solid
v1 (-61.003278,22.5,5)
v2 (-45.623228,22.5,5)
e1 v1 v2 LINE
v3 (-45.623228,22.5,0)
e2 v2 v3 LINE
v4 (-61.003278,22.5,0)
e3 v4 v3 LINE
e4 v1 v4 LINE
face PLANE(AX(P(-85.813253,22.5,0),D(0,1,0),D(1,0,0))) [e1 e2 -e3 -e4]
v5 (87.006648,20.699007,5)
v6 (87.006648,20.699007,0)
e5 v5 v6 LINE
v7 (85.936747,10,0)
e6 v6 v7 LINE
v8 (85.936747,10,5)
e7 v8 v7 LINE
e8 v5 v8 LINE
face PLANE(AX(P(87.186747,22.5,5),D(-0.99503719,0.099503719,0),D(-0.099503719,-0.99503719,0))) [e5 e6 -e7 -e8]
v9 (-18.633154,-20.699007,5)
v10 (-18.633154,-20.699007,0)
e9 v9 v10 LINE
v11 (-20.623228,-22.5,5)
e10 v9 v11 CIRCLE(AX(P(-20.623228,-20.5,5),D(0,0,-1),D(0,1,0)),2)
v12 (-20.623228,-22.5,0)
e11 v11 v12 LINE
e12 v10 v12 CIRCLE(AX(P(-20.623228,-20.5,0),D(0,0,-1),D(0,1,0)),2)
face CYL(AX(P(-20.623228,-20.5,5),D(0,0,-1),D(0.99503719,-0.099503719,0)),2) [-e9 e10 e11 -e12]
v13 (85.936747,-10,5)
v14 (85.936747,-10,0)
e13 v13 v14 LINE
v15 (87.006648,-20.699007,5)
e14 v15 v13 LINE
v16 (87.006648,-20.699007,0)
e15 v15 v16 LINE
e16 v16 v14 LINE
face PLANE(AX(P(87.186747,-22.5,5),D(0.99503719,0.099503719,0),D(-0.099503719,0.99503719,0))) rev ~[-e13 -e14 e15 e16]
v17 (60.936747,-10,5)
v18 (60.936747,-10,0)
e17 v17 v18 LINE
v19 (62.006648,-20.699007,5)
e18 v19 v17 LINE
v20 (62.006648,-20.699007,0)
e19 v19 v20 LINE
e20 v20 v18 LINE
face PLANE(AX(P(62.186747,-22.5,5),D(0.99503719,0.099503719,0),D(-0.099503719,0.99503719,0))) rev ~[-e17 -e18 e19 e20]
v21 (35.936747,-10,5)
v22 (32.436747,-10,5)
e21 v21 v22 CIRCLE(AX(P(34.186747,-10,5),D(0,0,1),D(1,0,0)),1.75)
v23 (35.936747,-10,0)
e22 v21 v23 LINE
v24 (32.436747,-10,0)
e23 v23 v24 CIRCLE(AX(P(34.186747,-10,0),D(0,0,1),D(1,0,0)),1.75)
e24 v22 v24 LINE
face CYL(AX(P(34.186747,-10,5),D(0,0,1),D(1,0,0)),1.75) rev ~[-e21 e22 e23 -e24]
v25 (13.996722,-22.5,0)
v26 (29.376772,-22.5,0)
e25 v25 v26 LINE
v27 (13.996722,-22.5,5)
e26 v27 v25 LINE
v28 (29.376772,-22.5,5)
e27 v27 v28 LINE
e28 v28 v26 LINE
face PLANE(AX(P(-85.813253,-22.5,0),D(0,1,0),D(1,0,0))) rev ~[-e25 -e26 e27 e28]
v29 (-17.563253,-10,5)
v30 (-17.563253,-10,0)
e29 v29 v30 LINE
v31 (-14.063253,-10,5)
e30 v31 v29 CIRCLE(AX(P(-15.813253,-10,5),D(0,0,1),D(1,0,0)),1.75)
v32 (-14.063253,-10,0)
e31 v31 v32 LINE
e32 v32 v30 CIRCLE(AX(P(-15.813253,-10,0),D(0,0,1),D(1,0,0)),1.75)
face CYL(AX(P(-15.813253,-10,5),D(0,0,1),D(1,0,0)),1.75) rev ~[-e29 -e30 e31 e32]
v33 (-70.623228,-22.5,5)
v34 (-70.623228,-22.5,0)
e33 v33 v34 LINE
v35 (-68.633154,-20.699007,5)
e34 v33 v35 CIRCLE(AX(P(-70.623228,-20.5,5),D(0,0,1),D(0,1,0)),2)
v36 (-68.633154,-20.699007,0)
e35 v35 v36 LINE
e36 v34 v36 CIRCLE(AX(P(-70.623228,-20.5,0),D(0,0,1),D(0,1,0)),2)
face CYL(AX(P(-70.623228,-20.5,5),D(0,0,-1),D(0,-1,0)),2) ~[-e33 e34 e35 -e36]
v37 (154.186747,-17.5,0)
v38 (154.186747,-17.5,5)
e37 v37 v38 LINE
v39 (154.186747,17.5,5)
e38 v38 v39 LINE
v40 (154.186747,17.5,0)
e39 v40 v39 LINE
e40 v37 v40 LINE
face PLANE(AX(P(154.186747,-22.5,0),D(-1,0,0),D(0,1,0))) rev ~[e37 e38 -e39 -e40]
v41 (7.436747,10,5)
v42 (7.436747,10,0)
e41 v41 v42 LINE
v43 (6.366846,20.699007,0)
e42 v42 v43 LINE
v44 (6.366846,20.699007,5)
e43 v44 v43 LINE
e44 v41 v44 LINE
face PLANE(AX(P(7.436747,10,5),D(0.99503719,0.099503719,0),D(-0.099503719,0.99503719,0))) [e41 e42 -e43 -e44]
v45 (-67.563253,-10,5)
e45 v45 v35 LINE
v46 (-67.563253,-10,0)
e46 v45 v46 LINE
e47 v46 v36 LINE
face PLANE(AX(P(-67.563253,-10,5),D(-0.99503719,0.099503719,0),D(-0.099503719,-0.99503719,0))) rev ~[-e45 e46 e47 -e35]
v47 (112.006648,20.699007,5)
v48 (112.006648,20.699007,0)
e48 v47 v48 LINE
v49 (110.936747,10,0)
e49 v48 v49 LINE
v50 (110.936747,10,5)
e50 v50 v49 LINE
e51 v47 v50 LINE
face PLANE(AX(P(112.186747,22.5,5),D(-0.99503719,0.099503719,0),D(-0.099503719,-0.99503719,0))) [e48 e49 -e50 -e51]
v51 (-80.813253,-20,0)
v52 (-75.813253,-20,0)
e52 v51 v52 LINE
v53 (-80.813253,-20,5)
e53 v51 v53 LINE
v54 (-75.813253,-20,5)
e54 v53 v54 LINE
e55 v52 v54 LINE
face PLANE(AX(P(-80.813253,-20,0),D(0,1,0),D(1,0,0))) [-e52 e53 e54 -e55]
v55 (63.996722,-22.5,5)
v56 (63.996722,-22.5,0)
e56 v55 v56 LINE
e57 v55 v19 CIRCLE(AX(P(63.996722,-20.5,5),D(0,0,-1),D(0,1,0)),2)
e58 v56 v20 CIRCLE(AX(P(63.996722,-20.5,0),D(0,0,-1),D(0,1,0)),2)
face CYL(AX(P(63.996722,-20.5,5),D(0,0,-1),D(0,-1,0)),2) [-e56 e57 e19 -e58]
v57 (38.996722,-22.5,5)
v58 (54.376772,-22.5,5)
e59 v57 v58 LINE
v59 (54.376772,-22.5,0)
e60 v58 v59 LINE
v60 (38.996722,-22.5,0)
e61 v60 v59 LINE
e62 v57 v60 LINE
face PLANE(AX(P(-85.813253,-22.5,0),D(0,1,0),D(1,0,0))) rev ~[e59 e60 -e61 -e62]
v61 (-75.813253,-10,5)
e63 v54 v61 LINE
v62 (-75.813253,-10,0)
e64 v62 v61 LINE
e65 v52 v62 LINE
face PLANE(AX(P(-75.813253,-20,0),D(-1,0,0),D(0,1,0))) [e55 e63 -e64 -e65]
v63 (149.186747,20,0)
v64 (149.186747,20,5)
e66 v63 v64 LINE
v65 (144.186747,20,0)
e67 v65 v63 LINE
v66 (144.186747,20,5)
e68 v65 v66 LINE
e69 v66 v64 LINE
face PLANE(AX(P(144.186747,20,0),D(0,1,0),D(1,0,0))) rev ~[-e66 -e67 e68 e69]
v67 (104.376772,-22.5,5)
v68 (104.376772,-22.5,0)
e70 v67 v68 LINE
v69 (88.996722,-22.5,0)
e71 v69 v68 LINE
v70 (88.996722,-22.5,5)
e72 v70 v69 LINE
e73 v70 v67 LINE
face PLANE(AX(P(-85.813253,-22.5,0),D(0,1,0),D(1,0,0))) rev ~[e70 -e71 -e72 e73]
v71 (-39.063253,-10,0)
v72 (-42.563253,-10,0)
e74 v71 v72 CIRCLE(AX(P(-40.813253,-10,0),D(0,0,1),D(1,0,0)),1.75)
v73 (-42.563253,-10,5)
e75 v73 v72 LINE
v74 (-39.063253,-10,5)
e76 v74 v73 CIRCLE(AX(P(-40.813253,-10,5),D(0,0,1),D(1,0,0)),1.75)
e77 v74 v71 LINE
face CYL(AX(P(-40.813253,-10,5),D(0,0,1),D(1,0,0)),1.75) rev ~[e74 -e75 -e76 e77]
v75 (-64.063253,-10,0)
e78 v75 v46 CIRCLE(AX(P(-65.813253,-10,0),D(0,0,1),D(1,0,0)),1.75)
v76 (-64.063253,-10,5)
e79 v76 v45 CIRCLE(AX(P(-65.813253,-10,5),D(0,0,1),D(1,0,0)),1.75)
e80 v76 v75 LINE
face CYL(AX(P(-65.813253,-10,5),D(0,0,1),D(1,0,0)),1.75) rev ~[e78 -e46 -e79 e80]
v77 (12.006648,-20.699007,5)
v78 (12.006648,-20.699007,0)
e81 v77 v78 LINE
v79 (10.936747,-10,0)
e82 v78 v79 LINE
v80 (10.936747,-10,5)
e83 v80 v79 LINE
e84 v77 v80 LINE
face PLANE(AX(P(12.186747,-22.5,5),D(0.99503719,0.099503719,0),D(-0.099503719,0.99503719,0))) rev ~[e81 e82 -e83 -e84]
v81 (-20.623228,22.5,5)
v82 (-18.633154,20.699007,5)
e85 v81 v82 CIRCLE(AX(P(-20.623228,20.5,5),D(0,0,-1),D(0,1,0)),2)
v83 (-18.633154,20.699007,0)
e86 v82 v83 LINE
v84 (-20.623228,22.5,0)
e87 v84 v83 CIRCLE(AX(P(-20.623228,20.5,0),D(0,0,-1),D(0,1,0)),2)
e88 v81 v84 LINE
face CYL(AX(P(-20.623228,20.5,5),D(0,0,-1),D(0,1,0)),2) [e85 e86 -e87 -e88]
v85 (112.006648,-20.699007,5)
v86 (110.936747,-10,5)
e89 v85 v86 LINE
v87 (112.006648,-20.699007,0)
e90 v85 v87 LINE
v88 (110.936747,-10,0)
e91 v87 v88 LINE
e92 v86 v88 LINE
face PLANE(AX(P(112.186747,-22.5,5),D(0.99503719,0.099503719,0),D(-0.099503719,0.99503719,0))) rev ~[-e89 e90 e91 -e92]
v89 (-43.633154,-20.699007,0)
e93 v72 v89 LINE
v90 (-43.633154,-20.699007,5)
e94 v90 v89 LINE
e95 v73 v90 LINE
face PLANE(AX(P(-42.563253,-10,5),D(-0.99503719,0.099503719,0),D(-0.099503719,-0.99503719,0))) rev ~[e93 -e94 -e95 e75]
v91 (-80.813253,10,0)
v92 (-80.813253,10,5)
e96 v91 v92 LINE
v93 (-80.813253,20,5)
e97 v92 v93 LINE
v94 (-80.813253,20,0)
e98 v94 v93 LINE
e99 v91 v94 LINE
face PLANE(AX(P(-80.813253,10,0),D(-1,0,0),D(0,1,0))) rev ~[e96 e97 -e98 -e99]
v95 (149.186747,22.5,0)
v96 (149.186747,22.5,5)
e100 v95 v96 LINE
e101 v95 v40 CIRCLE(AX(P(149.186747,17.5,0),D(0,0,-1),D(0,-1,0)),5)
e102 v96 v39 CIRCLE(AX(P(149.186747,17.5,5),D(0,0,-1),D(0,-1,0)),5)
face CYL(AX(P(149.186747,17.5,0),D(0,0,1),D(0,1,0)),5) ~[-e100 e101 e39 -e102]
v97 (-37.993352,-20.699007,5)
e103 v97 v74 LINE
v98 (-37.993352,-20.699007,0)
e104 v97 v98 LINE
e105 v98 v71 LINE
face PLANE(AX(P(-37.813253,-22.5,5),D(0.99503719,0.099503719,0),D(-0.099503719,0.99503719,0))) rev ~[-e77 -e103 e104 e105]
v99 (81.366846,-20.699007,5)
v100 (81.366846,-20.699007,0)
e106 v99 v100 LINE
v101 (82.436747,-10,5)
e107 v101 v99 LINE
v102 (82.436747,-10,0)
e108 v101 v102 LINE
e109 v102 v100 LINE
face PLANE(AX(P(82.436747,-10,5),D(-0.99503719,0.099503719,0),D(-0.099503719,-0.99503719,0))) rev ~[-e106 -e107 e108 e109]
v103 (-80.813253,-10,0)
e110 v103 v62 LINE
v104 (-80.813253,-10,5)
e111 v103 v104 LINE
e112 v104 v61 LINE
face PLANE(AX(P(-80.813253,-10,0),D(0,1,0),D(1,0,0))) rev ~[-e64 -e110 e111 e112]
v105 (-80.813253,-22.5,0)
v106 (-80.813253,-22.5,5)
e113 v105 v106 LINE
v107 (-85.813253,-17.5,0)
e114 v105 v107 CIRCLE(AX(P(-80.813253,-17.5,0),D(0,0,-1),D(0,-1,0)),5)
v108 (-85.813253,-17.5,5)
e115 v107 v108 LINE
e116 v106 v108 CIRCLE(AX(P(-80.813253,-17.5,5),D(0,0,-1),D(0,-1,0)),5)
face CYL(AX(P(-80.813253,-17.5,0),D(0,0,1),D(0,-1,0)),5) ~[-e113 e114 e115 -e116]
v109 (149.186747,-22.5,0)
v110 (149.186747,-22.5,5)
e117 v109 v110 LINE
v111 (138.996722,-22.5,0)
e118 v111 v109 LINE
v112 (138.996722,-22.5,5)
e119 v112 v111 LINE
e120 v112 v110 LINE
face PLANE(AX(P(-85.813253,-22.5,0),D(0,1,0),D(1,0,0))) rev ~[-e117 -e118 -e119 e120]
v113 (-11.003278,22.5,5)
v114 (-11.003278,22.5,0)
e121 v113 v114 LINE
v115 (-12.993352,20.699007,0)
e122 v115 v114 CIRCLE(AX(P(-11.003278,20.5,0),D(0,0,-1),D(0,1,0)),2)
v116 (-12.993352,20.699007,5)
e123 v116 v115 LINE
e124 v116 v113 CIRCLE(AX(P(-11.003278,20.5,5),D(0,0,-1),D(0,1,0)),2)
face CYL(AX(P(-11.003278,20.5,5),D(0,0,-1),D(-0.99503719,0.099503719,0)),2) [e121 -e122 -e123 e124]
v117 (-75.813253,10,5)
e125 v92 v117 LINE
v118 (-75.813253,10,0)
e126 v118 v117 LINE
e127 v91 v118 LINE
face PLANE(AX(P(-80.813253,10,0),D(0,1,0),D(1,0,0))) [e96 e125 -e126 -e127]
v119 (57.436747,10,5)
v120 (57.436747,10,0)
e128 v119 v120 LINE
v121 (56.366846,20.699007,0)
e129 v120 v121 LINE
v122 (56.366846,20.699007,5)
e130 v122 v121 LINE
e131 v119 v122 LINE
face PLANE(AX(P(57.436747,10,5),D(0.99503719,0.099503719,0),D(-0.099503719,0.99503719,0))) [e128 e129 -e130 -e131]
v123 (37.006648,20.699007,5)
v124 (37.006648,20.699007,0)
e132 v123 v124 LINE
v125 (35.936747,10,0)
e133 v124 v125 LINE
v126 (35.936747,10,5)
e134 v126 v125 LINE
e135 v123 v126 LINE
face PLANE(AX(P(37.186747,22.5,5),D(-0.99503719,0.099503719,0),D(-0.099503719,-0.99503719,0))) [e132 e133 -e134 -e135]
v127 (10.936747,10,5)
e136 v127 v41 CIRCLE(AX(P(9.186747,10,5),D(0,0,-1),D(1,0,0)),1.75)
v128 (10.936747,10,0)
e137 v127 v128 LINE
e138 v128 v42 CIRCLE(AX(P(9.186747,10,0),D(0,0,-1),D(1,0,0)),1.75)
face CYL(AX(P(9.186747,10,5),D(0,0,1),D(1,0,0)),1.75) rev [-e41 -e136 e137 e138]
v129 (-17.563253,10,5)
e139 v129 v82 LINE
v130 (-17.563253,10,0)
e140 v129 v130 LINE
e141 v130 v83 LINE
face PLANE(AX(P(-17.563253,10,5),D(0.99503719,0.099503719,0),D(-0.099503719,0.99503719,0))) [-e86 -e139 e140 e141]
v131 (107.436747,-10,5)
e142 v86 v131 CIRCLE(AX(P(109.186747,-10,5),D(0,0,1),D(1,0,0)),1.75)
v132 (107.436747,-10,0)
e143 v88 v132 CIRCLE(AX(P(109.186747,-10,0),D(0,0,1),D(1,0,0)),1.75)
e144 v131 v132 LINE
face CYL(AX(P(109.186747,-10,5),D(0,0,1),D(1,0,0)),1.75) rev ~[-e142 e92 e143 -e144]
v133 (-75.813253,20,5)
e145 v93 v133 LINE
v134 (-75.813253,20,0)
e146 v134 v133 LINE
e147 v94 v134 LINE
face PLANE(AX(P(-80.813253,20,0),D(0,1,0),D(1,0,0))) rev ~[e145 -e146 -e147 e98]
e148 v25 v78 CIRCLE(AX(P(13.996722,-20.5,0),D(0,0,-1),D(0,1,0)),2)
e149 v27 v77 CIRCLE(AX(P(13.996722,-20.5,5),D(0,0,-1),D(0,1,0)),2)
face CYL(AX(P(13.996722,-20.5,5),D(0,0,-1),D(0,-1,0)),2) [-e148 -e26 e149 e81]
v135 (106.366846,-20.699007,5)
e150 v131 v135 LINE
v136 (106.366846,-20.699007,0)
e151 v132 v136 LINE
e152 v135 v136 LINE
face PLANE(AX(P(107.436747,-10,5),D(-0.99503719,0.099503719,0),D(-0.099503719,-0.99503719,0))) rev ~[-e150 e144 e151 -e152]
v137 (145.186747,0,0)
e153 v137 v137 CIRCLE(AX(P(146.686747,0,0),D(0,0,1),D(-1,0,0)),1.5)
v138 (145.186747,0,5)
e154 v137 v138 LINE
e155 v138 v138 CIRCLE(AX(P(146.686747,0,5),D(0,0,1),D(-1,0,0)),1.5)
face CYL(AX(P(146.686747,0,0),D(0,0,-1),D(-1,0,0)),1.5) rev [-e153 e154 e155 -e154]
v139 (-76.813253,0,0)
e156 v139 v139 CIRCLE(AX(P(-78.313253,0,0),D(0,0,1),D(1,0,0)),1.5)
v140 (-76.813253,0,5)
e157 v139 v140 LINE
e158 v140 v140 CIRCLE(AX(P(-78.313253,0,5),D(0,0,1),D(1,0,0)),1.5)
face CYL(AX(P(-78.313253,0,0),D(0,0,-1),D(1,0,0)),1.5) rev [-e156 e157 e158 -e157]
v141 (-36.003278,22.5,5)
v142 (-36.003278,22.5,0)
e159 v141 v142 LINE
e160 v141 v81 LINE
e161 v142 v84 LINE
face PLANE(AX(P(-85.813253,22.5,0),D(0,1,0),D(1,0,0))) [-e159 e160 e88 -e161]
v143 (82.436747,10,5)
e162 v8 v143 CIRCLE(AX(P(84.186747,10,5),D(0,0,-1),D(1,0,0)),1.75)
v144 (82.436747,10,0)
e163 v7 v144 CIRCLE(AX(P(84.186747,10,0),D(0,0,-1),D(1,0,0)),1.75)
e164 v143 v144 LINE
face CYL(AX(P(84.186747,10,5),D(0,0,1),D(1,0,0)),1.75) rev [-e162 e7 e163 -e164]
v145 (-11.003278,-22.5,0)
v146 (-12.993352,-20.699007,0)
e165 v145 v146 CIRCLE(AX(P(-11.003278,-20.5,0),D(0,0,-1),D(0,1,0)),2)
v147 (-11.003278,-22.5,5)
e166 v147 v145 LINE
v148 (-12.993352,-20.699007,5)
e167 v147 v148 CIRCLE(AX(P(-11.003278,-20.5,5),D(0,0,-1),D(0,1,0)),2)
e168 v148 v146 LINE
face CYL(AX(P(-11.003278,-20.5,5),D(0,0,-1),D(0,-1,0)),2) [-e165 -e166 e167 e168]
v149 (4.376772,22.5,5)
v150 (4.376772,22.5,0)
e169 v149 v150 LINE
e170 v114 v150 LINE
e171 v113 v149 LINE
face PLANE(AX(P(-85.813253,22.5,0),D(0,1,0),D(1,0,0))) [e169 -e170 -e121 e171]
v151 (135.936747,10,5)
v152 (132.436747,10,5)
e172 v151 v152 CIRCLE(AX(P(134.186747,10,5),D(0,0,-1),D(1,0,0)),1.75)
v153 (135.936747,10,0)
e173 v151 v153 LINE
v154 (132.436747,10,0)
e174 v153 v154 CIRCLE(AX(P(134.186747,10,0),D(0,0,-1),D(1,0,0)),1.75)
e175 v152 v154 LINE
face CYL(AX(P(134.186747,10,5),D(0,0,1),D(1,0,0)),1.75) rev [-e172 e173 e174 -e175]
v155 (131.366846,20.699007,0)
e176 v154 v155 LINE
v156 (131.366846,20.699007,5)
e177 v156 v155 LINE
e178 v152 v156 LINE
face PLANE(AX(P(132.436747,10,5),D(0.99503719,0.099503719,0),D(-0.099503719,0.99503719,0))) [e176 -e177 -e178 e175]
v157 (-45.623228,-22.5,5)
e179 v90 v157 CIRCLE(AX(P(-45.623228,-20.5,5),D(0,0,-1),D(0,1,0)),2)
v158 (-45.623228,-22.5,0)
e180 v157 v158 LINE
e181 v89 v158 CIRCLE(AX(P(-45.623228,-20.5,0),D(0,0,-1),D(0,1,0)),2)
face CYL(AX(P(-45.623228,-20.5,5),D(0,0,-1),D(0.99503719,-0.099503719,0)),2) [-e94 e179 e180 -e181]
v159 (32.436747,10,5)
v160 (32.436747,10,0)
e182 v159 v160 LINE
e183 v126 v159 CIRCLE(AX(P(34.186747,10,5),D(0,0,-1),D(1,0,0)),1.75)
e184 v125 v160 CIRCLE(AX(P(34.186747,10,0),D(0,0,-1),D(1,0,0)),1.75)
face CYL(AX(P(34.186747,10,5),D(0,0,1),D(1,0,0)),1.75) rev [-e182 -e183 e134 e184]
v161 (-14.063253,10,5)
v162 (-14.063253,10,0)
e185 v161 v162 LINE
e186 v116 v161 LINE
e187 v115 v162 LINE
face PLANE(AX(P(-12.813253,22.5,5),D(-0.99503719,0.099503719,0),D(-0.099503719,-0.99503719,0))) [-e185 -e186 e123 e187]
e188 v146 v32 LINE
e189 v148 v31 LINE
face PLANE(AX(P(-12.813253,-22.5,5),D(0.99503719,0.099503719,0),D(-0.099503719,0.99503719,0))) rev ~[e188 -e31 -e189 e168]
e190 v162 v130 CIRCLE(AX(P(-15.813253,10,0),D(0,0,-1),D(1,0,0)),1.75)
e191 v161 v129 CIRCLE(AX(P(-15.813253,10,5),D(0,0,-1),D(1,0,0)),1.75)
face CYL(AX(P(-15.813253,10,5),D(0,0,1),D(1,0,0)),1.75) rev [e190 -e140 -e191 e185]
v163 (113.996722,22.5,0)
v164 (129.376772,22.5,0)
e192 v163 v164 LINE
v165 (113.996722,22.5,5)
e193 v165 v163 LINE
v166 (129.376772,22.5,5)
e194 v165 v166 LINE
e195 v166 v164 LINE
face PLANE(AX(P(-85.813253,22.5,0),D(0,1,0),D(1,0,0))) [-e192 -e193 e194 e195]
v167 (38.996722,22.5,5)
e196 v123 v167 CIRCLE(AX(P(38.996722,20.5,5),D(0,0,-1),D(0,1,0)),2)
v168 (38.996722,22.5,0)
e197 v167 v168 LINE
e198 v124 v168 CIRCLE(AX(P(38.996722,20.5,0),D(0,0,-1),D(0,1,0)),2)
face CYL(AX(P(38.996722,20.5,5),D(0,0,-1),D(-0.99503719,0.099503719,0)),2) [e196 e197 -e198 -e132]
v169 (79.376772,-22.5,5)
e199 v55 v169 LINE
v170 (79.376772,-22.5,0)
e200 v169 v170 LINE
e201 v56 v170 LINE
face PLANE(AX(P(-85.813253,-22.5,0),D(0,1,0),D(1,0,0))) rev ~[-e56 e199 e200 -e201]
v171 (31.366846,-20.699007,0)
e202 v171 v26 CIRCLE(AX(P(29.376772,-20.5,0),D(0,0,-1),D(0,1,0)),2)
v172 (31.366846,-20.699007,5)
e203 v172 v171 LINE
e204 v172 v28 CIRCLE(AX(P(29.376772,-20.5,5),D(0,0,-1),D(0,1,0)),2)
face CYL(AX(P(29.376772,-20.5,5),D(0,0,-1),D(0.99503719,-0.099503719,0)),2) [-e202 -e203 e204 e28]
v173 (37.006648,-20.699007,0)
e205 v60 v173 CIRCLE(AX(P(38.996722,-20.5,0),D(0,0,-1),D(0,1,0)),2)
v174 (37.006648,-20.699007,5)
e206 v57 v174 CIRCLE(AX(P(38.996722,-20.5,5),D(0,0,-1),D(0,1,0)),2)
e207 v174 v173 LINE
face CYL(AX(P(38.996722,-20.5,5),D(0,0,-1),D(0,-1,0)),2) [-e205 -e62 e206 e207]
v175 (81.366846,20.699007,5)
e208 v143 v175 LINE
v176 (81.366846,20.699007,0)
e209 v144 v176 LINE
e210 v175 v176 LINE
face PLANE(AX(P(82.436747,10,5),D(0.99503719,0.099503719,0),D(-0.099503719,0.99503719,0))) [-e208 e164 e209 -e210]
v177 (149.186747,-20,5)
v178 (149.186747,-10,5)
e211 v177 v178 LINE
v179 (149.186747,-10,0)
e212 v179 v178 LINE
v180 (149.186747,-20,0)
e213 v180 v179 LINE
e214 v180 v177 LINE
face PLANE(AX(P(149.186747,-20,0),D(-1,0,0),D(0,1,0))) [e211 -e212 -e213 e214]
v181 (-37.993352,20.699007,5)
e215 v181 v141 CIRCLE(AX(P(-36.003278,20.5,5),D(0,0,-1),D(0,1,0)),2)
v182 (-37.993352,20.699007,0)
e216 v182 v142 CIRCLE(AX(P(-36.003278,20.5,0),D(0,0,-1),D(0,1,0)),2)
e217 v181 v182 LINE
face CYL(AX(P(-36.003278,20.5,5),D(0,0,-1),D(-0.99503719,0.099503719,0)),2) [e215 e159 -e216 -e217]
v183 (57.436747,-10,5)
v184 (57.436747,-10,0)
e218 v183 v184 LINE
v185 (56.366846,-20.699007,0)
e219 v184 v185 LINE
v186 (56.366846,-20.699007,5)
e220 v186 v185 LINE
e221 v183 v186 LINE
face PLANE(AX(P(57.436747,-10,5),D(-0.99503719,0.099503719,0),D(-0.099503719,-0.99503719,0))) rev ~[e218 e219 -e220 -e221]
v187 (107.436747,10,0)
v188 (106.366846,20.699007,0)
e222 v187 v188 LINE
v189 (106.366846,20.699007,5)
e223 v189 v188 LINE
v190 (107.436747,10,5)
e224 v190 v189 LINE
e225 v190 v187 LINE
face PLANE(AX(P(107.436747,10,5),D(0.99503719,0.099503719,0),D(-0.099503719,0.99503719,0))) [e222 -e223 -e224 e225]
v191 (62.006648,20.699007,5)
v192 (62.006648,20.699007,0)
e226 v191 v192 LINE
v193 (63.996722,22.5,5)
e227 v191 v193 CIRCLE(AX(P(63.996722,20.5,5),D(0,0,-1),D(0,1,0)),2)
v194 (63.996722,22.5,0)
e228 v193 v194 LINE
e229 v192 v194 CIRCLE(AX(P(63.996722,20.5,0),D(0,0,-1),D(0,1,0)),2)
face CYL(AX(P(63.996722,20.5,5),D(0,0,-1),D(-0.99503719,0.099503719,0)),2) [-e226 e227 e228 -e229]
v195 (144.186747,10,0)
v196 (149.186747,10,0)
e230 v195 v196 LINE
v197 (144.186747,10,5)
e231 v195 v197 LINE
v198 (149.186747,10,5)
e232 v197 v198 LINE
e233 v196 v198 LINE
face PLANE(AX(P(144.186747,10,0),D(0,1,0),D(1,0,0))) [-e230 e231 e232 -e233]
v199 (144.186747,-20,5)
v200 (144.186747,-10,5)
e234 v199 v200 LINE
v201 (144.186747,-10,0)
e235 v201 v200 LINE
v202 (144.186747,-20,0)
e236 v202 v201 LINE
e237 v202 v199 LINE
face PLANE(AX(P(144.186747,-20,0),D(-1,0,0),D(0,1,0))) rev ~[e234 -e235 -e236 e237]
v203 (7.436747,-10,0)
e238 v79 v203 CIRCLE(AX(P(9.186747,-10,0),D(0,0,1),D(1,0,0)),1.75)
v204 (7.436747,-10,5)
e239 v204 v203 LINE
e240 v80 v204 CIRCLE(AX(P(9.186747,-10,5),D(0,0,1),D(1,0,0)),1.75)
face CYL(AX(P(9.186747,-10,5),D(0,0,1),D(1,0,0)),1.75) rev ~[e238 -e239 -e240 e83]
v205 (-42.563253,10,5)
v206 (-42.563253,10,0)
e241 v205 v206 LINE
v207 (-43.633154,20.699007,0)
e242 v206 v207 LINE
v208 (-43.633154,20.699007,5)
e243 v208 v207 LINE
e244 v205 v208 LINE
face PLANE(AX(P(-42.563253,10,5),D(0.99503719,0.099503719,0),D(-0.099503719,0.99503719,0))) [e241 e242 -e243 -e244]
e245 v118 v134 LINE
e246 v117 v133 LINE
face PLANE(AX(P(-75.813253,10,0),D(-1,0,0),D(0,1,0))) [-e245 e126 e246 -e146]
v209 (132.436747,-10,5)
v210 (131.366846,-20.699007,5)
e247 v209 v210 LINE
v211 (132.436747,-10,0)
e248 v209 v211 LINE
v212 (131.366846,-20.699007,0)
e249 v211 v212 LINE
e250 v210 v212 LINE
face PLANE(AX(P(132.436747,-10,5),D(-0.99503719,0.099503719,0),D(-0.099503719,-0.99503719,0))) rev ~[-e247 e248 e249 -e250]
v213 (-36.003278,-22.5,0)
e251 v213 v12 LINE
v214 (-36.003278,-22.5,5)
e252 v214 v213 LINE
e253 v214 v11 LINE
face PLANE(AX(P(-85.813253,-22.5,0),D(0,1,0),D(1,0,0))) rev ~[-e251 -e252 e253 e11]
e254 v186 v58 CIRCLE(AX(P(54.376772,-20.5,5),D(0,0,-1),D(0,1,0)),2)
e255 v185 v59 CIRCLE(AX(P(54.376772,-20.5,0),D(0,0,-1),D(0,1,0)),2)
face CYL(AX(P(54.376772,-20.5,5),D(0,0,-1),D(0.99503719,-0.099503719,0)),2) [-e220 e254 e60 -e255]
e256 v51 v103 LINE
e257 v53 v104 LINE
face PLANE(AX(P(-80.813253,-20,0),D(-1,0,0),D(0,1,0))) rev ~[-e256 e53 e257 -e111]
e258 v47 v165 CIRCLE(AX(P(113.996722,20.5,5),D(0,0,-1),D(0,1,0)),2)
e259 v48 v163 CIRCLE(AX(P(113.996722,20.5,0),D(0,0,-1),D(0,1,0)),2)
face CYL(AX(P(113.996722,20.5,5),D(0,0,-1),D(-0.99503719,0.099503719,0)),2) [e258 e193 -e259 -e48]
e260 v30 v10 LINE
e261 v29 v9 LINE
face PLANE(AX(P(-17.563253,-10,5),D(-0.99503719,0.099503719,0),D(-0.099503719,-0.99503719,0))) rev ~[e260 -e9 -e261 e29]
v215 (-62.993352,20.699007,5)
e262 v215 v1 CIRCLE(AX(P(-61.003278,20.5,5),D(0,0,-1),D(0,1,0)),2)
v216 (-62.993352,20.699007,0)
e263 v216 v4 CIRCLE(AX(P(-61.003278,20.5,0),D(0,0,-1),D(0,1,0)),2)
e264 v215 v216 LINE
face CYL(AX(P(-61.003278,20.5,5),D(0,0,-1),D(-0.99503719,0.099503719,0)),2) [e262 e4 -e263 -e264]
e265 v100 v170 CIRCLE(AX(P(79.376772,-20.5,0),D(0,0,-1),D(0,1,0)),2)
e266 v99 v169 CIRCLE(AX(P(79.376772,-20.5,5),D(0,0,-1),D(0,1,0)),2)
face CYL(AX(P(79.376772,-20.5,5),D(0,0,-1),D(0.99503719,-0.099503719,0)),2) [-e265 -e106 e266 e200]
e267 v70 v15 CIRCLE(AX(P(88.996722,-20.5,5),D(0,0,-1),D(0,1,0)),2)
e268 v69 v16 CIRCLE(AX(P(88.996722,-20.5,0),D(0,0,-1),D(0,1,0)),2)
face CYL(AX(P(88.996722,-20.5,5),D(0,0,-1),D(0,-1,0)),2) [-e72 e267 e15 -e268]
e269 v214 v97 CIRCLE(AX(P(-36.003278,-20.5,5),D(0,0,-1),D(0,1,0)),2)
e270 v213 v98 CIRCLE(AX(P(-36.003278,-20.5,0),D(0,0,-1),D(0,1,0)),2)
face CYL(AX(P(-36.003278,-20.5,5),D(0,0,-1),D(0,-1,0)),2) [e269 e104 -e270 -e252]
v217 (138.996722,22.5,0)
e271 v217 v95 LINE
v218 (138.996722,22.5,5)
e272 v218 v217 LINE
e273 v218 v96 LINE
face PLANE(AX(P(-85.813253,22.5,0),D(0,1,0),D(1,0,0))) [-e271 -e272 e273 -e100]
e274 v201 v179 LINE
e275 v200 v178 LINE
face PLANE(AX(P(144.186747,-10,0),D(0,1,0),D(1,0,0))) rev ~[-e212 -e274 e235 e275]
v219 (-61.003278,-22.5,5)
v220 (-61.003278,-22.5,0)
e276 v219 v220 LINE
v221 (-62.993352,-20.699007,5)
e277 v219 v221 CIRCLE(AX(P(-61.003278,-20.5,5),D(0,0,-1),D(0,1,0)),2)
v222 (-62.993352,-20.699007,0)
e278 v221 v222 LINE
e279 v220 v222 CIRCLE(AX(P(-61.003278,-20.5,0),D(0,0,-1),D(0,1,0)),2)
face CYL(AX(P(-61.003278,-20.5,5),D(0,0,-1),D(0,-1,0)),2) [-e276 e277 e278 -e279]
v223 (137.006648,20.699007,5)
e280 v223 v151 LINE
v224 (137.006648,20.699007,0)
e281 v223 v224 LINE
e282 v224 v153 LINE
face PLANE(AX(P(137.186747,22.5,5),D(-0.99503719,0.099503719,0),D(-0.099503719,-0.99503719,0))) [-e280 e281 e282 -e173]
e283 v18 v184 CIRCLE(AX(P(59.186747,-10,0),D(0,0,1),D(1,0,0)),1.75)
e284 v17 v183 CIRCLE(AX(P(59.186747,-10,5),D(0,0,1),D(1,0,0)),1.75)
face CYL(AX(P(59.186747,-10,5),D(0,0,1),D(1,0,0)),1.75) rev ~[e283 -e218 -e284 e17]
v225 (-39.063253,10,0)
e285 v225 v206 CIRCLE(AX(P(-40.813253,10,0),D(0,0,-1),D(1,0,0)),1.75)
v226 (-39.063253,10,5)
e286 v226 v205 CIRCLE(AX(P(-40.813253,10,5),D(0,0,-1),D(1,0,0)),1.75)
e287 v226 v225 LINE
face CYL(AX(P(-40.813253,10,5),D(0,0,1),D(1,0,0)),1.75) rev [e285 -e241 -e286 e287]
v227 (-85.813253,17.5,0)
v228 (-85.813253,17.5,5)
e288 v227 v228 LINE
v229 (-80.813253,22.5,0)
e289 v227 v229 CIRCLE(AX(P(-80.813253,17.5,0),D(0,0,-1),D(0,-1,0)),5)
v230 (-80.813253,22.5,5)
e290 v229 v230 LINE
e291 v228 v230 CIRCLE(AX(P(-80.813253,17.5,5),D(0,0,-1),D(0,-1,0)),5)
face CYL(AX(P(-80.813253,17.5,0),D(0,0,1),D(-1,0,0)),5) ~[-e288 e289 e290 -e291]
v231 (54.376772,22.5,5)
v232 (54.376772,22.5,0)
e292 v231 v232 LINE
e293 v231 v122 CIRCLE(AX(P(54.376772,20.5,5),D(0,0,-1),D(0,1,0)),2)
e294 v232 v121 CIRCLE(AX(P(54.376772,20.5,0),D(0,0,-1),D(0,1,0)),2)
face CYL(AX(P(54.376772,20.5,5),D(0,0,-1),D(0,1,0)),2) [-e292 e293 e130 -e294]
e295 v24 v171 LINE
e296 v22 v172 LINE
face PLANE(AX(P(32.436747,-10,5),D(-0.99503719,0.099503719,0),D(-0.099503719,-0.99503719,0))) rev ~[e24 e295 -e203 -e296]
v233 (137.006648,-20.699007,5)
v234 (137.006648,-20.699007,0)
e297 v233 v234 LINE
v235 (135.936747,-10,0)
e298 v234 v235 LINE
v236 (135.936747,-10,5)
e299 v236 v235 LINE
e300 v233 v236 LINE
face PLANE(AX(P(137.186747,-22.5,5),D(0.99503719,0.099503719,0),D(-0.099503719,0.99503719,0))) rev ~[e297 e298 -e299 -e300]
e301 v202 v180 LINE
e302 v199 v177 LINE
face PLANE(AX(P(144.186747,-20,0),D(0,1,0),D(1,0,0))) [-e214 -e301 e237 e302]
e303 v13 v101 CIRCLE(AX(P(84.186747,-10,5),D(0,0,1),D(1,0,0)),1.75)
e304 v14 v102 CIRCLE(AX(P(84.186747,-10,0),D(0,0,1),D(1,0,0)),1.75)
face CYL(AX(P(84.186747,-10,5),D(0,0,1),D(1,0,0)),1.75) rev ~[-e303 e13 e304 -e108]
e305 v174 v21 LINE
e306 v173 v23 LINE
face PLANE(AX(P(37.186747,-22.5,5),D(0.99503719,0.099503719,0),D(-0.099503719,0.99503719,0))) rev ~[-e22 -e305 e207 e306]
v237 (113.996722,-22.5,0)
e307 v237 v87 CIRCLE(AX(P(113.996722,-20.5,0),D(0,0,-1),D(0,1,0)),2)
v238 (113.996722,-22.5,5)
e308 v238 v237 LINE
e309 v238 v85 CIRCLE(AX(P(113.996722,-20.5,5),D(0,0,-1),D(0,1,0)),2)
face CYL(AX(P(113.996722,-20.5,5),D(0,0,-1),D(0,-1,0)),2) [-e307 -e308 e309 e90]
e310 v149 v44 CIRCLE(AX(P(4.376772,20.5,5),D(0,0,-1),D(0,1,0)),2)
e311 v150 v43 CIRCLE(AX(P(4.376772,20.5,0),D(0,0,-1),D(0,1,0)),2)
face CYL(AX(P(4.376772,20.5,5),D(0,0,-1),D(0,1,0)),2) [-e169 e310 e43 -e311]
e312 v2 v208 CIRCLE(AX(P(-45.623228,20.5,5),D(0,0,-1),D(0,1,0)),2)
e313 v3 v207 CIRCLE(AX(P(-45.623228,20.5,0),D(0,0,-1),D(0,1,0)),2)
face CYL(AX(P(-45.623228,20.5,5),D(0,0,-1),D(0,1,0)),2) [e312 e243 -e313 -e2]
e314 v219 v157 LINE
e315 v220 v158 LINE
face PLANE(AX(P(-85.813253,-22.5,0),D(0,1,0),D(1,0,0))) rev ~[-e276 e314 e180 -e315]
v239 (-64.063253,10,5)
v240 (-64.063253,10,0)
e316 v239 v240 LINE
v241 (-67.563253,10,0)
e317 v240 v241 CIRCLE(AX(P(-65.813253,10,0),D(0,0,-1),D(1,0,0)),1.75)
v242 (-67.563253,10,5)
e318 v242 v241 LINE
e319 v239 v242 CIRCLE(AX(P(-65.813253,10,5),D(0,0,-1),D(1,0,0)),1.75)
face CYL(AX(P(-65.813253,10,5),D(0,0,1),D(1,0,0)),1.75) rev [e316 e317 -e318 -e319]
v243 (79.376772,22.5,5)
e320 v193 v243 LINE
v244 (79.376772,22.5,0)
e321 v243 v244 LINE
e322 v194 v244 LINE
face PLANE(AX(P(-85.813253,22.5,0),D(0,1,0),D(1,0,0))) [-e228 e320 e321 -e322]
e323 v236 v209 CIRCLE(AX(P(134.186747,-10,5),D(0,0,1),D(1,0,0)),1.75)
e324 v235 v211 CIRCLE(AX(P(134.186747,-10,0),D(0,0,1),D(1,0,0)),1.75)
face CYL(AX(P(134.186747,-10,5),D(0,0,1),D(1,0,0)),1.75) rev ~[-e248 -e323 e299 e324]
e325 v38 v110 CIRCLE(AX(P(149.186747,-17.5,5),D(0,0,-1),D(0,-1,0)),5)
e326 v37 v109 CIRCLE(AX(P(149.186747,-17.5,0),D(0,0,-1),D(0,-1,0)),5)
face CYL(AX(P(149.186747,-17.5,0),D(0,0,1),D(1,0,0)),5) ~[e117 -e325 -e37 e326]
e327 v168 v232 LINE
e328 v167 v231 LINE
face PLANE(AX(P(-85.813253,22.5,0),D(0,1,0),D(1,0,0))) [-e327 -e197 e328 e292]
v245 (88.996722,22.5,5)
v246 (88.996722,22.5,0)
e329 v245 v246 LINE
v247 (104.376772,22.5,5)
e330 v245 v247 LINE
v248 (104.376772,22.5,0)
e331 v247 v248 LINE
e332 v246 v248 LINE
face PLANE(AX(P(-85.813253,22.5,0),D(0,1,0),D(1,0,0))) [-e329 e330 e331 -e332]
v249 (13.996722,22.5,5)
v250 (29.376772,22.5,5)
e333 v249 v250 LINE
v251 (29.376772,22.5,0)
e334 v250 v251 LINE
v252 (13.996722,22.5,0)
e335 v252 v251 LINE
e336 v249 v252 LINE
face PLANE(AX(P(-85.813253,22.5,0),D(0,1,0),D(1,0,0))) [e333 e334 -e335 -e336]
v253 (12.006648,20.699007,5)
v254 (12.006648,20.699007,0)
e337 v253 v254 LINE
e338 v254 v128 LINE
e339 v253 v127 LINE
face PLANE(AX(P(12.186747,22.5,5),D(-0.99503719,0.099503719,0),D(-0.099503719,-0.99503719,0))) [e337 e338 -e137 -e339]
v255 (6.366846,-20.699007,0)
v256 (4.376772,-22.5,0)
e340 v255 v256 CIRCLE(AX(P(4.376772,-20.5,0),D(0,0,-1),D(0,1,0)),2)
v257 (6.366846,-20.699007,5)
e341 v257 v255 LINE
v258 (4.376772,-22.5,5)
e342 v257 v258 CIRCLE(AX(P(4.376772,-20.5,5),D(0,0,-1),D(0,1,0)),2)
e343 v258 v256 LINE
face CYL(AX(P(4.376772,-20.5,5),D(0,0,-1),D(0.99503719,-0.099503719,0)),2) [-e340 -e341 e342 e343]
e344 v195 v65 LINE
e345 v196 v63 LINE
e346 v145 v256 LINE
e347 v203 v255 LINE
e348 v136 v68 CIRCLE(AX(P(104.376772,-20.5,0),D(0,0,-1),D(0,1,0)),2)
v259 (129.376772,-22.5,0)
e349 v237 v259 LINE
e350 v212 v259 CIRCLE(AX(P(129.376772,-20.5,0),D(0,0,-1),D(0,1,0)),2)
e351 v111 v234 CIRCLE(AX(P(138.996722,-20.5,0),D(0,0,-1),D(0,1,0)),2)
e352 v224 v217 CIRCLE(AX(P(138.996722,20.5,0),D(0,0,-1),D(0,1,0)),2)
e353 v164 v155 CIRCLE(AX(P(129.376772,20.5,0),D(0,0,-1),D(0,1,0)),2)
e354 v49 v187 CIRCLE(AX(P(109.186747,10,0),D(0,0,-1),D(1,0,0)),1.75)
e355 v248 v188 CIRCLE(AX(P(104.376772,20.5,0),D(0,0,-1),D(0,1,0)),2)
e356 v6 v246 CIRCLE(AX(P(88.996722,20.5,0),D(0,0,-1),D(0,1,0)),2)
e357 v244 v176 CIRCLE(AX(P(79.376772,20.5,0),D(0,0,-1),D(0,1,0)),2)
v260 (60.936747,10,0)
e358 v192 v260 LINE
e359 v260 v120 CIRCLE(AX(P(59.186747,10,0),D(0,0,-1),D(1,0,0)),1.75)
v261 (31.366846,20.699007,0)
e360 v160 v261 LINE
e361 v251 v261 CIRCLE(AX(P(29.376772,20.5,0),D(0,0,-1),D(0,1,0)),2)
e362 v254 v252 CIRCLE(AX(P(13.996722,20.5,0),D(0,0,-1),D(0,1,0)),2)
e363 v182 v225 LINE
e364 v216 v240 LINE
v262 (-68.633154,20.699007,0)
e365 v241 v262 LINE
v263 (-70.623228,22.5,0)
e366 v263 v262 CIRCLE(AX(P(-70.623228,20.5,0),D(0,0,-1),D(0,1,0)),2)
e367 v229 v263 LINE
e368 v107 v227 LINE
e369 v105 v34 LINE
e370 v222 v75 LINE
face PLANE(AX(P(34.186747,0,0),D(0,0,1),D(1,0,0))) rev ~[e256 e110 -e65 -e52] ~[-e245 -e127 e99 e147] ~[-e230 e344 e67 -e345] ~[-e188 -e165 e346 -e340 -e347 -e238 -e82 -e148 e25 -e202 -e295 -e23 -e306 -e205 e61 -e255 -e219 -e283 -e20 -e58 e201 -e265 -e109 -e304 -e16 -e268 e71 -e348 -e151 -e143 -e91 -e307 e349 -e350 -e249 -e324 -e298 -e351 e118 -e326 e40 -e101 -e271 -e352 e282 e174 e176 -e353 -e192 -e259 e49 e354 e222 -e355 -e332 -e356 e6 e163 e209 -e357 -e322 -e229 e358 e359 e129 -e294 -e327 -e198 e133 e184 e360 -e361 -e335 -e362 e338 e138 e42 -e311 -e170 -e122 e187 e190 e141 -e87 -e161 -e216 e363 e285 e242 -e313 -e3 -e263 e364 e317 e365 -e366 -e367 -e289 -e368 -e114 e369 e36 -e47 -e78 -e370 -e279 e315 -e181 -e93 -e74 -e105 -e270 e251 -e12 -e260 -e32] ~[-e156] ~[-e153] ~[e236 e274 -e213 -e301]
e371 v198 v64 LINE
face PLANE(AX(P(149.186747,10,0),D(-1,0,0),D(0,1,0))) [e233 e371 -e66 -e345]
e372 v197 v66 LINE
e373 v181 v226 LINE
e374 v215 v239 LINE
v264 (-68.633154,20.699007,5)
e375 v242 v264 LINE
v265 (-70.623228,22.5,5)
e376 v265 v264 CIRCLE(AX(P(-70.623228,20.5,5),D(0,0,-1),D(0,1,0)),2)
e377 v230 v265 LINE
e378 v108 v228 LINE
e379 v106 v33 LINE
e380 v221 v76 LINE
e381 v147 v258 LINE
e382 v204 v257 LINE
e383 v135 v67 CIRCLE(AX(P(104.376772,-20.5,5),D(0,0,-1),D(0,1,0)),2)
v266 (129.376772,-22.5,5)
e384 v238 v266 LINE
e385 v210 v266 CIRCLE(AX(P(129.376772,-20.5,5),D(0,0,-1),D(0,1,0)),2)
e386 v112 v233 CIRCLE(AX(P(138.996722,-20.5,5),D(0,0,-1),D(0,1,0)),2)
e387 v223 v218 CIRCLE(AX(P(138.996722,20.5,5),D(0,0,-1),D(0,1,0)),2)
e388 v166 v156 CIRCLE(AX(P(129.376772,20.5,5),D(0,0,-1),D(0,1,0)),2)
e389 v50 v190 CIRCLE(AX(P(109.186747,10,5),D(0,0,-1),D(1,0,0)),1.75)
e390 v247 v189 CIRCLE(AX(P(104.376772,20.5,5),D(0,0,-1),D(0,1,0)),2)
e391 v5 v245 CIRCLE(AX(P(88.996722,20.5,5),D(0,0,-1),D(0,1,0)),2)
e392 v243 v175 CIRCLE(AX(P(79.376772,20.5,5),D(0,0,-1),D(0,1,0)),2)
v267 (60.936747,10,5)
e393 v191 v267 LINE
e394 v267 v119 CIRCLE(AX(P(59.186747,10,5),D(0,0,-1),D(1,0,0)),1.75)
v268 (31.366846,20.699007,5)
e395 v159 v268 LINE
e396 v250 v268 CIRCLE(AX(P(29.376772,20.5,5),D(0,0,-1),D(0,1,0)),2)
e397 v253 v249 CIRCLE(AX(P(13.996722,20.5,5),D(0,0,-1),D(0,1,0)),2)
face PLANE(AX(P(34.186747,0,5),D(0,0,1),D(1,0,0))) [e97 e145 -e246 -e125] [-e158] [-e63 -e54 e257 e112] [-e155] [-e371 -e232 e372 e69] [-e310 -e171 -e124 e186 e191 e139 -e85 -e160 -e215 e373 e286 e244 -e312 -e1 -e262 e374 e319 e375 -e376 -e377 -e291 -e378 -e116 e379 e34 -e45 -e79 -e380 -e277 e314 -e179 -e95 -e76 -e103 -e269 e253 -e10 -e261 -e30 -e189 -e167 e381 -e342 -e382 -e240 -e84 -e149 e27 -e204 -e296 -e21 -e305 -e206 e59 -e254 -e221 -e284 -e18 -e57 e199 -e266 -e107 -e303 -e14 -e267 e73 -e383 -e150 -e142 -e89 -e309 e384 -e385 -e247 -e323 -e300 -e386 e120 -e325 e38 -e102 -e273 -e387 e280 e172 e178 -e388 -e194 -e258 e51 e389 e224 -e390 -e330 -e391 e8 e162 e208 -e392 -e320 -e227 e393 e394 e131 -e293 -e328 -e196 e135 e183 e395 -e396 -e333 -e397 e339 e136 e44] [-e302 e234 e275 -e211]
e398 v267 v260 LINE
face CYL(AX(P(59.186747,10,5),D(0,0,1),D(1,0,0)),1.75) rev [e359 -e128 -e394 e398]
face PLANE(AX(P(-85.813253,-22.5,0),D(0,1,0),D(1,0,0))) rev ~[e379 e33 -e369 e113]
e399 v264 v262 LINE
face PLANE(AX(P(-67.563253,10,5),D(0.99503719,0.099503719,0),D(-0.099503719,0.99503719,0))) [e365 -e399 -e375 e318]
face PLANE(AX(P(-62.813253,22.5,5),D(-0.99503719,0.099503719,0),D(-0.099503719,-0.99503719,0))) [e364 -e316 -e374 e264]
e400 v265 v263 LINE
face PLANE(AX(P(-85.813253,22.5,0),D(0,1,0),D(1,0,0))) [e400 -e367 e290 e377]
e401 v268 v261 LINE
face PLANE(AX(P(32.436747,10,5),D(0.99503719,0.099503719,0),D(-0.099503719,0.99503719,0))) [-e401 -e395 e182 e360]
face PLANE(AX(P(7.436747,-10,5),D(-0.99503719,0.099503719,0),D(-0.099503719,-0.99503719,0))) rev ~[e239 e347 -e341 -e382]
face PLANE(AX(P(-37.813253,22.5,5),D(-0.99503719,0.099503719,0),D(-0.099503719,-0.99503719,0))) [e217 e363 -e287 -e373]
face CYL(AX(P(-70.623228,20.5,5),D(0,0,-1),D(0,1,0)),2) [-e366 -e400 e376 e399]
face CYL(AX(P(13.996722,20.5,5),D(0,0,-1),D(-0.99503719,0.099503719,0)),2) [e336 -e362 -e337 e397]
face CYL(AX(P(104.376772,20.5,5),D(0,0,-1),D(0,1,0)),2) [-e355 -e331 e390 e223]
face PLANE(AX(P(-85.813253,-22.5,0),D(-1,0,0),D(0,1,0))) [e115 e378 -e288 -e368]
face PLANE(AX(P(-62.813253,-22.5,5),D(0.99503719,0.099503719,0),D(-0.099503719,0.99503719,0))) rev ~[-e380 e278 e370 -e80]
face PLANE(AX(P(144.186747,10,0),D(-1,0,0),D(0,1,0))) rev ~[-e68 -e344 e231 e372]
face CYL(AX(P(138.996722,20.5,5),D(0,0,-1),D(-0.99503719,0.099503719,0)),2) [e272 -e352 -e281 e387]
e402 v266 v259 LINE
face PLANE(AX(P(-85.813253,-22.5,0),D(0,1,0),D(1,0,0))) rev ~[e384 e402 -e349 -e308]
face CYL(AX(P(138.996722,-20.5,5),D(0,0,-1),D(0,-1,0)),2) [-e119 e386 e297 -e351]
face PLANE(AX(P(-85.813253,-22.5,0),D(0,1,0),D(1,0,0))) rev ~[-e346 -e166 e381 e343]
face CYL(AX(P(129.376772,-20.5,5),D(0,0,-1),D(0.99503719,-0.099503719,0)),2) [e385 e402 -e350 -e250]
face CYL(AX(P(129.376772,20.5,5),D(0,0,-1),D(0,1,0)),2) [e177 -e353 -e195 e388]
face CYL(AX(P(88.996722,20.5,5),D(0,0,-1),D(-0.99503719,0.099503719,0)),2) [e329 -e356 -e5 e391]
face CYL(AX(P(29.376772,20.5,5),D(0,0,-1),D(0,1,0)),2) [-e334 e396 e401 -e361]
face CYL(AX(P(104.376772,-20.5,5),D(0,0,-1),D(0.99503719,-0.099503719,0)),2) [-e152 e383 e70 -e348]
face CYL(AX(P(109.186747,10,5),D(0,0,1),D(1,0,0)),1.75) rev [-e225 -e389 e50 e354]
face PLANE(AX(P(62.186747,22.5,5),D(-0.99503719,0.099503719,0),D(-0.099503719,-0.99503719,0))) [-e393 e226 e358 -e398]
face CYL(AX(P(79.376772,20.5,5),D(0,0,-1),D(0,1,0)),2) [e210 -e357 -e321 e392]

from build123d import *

# Parameters (mm, degrees)
SKETCH1_W           = 240
SKETCH1_H           = 45
SKETCH1_R           = 1.5
SKETCH1_W_2         = 5
SKETCH1_H_2         = 10
BOSS_EXTRUDE1_DEPTH = 5
CUT_EXTRUDE1_DEPTH  = 5
FILLET1_R           = 2
CONG_1_R            = 5


with BuildPart() as part:
    # Sketch1 → Boss-Extrude1 (new body)
    with BuildSketch(Plane.XY):
        with Locations((34.186746988, 0)):
            Rectangle(SKETCH1_W, SKETCH1_H)
        with Locations((-78.313253012, 0)):
            Circle(SKETCH1_R, mode=Mode.SUBTRACT)
        with Locations(Location((146.686746988, 0, 0), (0, 0, 180))):
            Circle(SKETCH1_R, mode=Mode.SUBTRACT)
        with Locations((-78.313253012, -15)):
            Rectangle(SKETCH1_W_2, SKETCH1_H_2, mode=Mode.SUBTRACT)
        with Locations((-78.313253012, 15)):
            Rectangle(SKETCH1_W_2, SKETCH1_H_2, mode=Mode.SUBTRACT)
        with Locations((146.686746988, -15)):
            Rectangle(SKETCH1_W_2, SKETCH1_H_2, mode=Mode.SUBTRACT)
        with Locations((146.686746988, 15)):
            Rectangle(SKETCH1_W_2, SKETCH1_H_2, mode=Mode.SUBTRACT)
    extrude(amount=BOSS_EXTRUDE1_DEPTH)

    # Sketch2 → Cut-Extrude1 (cut)
    with BuildSketch(Plane.XY.offset(5)):
        with BuildLine():
            Line((-68.813253012, 22.5), (-62.813253012, 22.5))
            Line((-62.813253012, 22.5), (-64.063253012, 10))
            ThreePointArc((-64.063253012, 10), (-65.813253012, 8.25), (-67.563253012, 10))
            Line((-67.563253012, 10), (-68.813253012, 22.5))
        make_face()
        with BuildLine():
            Line((-43.813253012, 22.5), (-37.813253012, 22.5))
            Line((-37.813253012, 22.5), (-39.063253012, 10))
            ThreePointArc((-39.063253012, 10), (-40.813253012, 8.25), (-42.563253012, 10))
            Line((-42.563253012, 10), (-43.813253012, 22.5))
        make_face()
        with BuildLine():
            Line((-18.813253012, 22.5), (-12.813253012, 22.5))
            Line((-12.813253012, 22.5), (-14.063253012, 10))
            ThreePointArc((-14.063253012, 10), (-15.813253012, 8.25), (-17.563253012, 10))
            Line((-17.563253012, 10), (-18.813253012, 22.5))
        make_face()
        with BuildLine():
            Line((6.186746988, 22.5), (12.186746988, 22.5))
            Line((12.186746988, 22.5), (10.936746988, 10))
            ThreePointArc((10.936746988, 10), (9.186746988, 8.25), (7.436746988, 10))
            Line((7.436746988, 10), (6.186746988, 22.5))
        make_face()
        with BuildLine():
            Line((31.186746988, 22.5), (37.186746988, 22.5))
            Line((37.186746988, 22.5), (35.936746988, 10))
            ThreePointArc((35.936746988, 10), (34.186746988, 8.25), (32.436746988, 10))
            Line((32.436746988, 10), (31.186746988, 22.5))
        make_face()
        with BuildLine():
            Line((56.186746988, 22.5), (62.186746988, 22.5))
            Line((62.186746988, 22.5), (60.936746988, 10))
            ThreePointArc((60.936746988, 10), (59.186746988, 8.25), (57.436746988, 10))
            Line((57.436746988, 10), (56.186746988, 22.5))
        make_face()
        with BuildLine():
            Line((81.186746988, 22.5), (87.186746988, 22.5))
            Line((87.186746988, 22.5), (85.936746988, 10))
            ThreePointArc((85.936746988, 10), (84.186746988, 8.25), (82.436746988, 10))
            Line((82.436746988, 10), (81.186746988, 22.5))
        make_face()
        with BuildLine():
            Line((106.186746988, 22.5), (112.186746988, 22.5))
            Line((112.186746988, 22.5), (110.936746988, 10))
            ThreePointArc((110.936746988, 10), (109.186746988, 8.25), (107.436746988, 10))
            Line((107.436746988, 10), (106.186746988, 22.5))
        make_face()
        with BuildLine():
            Line((131.186746988, 22.5), (137.186746988, 22.5))
            Line((137.186746988, 22.5), (135.936746988, 10))
            ThreePointArc((135.936746988, 10), (134.186746988, 8.25), (132.436746988, 10))
            Line((132.436746988, 10), (131.186746988, 22.5))
        make_face()
        with BuildLine():
            Line((137.186746988, -22.5), (135.936746988, -10))
            ThreePointArc((135.936746988, -10), (134.186746988, -8.25), (132.436746988, -10))
            Line((132.436746988, -10), (131.186746988, -22.5))
            Line((131.186746988, -22.5), (137.186746988, -22.5))
        make_face()
        with BuildLine():
            Line((112.186746988, -22.5), (110.936746988, -10))
            ThreePointArc((110.936746988, -10), (109.186746988, -8.25), (107.436746988, -10))
            Line((107.436746988, -10), (106.186746988, -22.5))
            Line((106.186746988, -22.5), (112.186746988, -22.5))
        make_face()
        with BuildLine():
            Line((87.186746988, -22.5), (85.936746988, -10))
            ThreePointArc((85.936746988, -10), (84.186746988, -8.25), (82.436746988, -10))
            Line((82.436746988, -10), (81.186746988, -22.5))
            Line((81.186746988, -22.5), (87.186746988, -22.5))
        make_face()
        with BuildLine():
            Line((62.186746988, -22.5), (60.936746988, -10))
            ThreePointArc((60.936746988, -10), (59.186746988, -8.25), (57.436746988, -10))
            Line((57.436746988, -10), (56.186746988, -22.5))
            Line((56.186746988, -22.5), (62.186746988, -22.5))
        make_face()
        with BuildLine():
            Line((37.186746988, -22.5), (35.936746988, -10))
            ThreePointArc((35.936746988, -10), (34.186746988, -8.25), (32.436746988, -10))
            Line((32.436746988, -10), (31.186746988, -22.5))
            Line((31.186746988, -22.5), (37.186746988, -22.5))
        make_face()
        with BuildLine():
            Line((12.186746988, -22.5), (10.936746988, -10))
            ThreePointArc((10.936746988, -10), (9.186746988, -8.25), (7.436746988, -10))
            Line((7.436746988, -10), (6.186746988, -22.5))
            Line((6.186746988, -22.5), (12.186746988, -22.5))
        make_face()
        with BuildLine():
            Line((-12.813253012, -22.5), (-14.063253012, -10))
            ThreePointArc((-14.063253012, -10), (-15.813253012, -8.25), (-17.563253012, -10))
            Line((-17.563253012, -10), (-18.813253012, -22.5))
            Line((-18.813253012, -22.5), (-12.813253012, -22.5))
        make_face()
        with BuildLine():
            Line((-37.813253012, -22.5), (-39.063253012, -10))
            ThreePointArc((-39.063253012, -10), (-40.813253012, -8.25), (-42.563253012, -10))
            Line((-42.563253012, -10), (-43.813253012, -22.5))
            Line((-43.813253012, -22.5), (-37.813253012, -22.5))
        make_face()
        with BuildLine():
            Line((-62.813253012, -22.5), (-64.063253012, -10))
            ThreePointArc((-64.063253012, -10), (-65.813253012, -8.25), (-67.563253012, -10))
            Line((-67.563253012, -10), (-68.813253012, -22.5))
            Line((-68.813253012, -22.5), (-62.813253012, -22.5))
        make_face()
    extrude(amount=-CUT_EXTRUDE1_DEPTH, mode=Mode.SUBTRACT)

    # Fillet1
    fillet1_edges = [part.edges().sort_by_distance(p)[0] for p in [
        (-62.813253012, -22.5, 2.5),
        (-68.813253012, -22.5, 2.5),
        (-37.813253012, -22.5, 2.5),
        (-43.813253012, -22.5, 2.5),
        (-12.813253012, -22.5, 2.5),
        (-18.813253012, -22.5, 2.5),
        (12.186746988, -22.5, 2.5),
        (6.186746988, -22.5, 2.5),
        (37.186746988, -22.5, 2.5),
        (31.186746988, -22.5, 2.5),
        (62.186746988, -22.5, 2.5),
        (56.186746988, -22.5, 2.5),
        (87.186746988, -22.5, 2.5),
        (81.186746988, -22.5, 2.5),
        (112.186746988, -22.5, 2.5),
        (106.186746988, -22.5, 2.5),
        (137.186746988, -22.5, 2.5),
        (131.186746988, -22.5, 2.5),
        (131.186746988, 22.5, 2.5),
        (137.186746988, 22.5, 2.5),
        (106.186746988, 22.5, 2.5),
        (112.186746988, 22.5, 2.5),
        (81.186746988, 22.5, 2.5),
        (87.186746988, 22.5, 2.5),
        (56.186746988, 22.5, 2.5),
        (62.186746988, 22.5, 2.5),
        (31.186746988, 22.5, 2.5),
        (37.186746988, 22.5, 2.5),
        (6.186746988, 22.5, 2.5),
        (12.186746988, 22.5, 2.5),
        (-18.813253012, 22.5, 2.5),
        (-12.813253012, 22.5, 2.5),
        (-43.813253012, 22.5, 2.5),
        (-37.813253012, 22.5, 2.5),
        (-68.813253012, 22.5, 2.5),
        (-62.813253012, 22.5, 2.5),
    ]]
    fillet(fillet1_edges, radius=FILLET1_R)

    # Congé1
    cong_1_edges = [part.edges().sort_by_distance(p)[0] for p in [
        (-85.813253012, 22.5, 2.5),
        (154.186746988, 22.5, 2.5),
        (154.186746988, -22.5, 2.5),
        (-85.813253012, -22.5, 2.5),
    ]]
    fillet(cong_1_edges, radius=CONG_1_R)


solid = part.part
